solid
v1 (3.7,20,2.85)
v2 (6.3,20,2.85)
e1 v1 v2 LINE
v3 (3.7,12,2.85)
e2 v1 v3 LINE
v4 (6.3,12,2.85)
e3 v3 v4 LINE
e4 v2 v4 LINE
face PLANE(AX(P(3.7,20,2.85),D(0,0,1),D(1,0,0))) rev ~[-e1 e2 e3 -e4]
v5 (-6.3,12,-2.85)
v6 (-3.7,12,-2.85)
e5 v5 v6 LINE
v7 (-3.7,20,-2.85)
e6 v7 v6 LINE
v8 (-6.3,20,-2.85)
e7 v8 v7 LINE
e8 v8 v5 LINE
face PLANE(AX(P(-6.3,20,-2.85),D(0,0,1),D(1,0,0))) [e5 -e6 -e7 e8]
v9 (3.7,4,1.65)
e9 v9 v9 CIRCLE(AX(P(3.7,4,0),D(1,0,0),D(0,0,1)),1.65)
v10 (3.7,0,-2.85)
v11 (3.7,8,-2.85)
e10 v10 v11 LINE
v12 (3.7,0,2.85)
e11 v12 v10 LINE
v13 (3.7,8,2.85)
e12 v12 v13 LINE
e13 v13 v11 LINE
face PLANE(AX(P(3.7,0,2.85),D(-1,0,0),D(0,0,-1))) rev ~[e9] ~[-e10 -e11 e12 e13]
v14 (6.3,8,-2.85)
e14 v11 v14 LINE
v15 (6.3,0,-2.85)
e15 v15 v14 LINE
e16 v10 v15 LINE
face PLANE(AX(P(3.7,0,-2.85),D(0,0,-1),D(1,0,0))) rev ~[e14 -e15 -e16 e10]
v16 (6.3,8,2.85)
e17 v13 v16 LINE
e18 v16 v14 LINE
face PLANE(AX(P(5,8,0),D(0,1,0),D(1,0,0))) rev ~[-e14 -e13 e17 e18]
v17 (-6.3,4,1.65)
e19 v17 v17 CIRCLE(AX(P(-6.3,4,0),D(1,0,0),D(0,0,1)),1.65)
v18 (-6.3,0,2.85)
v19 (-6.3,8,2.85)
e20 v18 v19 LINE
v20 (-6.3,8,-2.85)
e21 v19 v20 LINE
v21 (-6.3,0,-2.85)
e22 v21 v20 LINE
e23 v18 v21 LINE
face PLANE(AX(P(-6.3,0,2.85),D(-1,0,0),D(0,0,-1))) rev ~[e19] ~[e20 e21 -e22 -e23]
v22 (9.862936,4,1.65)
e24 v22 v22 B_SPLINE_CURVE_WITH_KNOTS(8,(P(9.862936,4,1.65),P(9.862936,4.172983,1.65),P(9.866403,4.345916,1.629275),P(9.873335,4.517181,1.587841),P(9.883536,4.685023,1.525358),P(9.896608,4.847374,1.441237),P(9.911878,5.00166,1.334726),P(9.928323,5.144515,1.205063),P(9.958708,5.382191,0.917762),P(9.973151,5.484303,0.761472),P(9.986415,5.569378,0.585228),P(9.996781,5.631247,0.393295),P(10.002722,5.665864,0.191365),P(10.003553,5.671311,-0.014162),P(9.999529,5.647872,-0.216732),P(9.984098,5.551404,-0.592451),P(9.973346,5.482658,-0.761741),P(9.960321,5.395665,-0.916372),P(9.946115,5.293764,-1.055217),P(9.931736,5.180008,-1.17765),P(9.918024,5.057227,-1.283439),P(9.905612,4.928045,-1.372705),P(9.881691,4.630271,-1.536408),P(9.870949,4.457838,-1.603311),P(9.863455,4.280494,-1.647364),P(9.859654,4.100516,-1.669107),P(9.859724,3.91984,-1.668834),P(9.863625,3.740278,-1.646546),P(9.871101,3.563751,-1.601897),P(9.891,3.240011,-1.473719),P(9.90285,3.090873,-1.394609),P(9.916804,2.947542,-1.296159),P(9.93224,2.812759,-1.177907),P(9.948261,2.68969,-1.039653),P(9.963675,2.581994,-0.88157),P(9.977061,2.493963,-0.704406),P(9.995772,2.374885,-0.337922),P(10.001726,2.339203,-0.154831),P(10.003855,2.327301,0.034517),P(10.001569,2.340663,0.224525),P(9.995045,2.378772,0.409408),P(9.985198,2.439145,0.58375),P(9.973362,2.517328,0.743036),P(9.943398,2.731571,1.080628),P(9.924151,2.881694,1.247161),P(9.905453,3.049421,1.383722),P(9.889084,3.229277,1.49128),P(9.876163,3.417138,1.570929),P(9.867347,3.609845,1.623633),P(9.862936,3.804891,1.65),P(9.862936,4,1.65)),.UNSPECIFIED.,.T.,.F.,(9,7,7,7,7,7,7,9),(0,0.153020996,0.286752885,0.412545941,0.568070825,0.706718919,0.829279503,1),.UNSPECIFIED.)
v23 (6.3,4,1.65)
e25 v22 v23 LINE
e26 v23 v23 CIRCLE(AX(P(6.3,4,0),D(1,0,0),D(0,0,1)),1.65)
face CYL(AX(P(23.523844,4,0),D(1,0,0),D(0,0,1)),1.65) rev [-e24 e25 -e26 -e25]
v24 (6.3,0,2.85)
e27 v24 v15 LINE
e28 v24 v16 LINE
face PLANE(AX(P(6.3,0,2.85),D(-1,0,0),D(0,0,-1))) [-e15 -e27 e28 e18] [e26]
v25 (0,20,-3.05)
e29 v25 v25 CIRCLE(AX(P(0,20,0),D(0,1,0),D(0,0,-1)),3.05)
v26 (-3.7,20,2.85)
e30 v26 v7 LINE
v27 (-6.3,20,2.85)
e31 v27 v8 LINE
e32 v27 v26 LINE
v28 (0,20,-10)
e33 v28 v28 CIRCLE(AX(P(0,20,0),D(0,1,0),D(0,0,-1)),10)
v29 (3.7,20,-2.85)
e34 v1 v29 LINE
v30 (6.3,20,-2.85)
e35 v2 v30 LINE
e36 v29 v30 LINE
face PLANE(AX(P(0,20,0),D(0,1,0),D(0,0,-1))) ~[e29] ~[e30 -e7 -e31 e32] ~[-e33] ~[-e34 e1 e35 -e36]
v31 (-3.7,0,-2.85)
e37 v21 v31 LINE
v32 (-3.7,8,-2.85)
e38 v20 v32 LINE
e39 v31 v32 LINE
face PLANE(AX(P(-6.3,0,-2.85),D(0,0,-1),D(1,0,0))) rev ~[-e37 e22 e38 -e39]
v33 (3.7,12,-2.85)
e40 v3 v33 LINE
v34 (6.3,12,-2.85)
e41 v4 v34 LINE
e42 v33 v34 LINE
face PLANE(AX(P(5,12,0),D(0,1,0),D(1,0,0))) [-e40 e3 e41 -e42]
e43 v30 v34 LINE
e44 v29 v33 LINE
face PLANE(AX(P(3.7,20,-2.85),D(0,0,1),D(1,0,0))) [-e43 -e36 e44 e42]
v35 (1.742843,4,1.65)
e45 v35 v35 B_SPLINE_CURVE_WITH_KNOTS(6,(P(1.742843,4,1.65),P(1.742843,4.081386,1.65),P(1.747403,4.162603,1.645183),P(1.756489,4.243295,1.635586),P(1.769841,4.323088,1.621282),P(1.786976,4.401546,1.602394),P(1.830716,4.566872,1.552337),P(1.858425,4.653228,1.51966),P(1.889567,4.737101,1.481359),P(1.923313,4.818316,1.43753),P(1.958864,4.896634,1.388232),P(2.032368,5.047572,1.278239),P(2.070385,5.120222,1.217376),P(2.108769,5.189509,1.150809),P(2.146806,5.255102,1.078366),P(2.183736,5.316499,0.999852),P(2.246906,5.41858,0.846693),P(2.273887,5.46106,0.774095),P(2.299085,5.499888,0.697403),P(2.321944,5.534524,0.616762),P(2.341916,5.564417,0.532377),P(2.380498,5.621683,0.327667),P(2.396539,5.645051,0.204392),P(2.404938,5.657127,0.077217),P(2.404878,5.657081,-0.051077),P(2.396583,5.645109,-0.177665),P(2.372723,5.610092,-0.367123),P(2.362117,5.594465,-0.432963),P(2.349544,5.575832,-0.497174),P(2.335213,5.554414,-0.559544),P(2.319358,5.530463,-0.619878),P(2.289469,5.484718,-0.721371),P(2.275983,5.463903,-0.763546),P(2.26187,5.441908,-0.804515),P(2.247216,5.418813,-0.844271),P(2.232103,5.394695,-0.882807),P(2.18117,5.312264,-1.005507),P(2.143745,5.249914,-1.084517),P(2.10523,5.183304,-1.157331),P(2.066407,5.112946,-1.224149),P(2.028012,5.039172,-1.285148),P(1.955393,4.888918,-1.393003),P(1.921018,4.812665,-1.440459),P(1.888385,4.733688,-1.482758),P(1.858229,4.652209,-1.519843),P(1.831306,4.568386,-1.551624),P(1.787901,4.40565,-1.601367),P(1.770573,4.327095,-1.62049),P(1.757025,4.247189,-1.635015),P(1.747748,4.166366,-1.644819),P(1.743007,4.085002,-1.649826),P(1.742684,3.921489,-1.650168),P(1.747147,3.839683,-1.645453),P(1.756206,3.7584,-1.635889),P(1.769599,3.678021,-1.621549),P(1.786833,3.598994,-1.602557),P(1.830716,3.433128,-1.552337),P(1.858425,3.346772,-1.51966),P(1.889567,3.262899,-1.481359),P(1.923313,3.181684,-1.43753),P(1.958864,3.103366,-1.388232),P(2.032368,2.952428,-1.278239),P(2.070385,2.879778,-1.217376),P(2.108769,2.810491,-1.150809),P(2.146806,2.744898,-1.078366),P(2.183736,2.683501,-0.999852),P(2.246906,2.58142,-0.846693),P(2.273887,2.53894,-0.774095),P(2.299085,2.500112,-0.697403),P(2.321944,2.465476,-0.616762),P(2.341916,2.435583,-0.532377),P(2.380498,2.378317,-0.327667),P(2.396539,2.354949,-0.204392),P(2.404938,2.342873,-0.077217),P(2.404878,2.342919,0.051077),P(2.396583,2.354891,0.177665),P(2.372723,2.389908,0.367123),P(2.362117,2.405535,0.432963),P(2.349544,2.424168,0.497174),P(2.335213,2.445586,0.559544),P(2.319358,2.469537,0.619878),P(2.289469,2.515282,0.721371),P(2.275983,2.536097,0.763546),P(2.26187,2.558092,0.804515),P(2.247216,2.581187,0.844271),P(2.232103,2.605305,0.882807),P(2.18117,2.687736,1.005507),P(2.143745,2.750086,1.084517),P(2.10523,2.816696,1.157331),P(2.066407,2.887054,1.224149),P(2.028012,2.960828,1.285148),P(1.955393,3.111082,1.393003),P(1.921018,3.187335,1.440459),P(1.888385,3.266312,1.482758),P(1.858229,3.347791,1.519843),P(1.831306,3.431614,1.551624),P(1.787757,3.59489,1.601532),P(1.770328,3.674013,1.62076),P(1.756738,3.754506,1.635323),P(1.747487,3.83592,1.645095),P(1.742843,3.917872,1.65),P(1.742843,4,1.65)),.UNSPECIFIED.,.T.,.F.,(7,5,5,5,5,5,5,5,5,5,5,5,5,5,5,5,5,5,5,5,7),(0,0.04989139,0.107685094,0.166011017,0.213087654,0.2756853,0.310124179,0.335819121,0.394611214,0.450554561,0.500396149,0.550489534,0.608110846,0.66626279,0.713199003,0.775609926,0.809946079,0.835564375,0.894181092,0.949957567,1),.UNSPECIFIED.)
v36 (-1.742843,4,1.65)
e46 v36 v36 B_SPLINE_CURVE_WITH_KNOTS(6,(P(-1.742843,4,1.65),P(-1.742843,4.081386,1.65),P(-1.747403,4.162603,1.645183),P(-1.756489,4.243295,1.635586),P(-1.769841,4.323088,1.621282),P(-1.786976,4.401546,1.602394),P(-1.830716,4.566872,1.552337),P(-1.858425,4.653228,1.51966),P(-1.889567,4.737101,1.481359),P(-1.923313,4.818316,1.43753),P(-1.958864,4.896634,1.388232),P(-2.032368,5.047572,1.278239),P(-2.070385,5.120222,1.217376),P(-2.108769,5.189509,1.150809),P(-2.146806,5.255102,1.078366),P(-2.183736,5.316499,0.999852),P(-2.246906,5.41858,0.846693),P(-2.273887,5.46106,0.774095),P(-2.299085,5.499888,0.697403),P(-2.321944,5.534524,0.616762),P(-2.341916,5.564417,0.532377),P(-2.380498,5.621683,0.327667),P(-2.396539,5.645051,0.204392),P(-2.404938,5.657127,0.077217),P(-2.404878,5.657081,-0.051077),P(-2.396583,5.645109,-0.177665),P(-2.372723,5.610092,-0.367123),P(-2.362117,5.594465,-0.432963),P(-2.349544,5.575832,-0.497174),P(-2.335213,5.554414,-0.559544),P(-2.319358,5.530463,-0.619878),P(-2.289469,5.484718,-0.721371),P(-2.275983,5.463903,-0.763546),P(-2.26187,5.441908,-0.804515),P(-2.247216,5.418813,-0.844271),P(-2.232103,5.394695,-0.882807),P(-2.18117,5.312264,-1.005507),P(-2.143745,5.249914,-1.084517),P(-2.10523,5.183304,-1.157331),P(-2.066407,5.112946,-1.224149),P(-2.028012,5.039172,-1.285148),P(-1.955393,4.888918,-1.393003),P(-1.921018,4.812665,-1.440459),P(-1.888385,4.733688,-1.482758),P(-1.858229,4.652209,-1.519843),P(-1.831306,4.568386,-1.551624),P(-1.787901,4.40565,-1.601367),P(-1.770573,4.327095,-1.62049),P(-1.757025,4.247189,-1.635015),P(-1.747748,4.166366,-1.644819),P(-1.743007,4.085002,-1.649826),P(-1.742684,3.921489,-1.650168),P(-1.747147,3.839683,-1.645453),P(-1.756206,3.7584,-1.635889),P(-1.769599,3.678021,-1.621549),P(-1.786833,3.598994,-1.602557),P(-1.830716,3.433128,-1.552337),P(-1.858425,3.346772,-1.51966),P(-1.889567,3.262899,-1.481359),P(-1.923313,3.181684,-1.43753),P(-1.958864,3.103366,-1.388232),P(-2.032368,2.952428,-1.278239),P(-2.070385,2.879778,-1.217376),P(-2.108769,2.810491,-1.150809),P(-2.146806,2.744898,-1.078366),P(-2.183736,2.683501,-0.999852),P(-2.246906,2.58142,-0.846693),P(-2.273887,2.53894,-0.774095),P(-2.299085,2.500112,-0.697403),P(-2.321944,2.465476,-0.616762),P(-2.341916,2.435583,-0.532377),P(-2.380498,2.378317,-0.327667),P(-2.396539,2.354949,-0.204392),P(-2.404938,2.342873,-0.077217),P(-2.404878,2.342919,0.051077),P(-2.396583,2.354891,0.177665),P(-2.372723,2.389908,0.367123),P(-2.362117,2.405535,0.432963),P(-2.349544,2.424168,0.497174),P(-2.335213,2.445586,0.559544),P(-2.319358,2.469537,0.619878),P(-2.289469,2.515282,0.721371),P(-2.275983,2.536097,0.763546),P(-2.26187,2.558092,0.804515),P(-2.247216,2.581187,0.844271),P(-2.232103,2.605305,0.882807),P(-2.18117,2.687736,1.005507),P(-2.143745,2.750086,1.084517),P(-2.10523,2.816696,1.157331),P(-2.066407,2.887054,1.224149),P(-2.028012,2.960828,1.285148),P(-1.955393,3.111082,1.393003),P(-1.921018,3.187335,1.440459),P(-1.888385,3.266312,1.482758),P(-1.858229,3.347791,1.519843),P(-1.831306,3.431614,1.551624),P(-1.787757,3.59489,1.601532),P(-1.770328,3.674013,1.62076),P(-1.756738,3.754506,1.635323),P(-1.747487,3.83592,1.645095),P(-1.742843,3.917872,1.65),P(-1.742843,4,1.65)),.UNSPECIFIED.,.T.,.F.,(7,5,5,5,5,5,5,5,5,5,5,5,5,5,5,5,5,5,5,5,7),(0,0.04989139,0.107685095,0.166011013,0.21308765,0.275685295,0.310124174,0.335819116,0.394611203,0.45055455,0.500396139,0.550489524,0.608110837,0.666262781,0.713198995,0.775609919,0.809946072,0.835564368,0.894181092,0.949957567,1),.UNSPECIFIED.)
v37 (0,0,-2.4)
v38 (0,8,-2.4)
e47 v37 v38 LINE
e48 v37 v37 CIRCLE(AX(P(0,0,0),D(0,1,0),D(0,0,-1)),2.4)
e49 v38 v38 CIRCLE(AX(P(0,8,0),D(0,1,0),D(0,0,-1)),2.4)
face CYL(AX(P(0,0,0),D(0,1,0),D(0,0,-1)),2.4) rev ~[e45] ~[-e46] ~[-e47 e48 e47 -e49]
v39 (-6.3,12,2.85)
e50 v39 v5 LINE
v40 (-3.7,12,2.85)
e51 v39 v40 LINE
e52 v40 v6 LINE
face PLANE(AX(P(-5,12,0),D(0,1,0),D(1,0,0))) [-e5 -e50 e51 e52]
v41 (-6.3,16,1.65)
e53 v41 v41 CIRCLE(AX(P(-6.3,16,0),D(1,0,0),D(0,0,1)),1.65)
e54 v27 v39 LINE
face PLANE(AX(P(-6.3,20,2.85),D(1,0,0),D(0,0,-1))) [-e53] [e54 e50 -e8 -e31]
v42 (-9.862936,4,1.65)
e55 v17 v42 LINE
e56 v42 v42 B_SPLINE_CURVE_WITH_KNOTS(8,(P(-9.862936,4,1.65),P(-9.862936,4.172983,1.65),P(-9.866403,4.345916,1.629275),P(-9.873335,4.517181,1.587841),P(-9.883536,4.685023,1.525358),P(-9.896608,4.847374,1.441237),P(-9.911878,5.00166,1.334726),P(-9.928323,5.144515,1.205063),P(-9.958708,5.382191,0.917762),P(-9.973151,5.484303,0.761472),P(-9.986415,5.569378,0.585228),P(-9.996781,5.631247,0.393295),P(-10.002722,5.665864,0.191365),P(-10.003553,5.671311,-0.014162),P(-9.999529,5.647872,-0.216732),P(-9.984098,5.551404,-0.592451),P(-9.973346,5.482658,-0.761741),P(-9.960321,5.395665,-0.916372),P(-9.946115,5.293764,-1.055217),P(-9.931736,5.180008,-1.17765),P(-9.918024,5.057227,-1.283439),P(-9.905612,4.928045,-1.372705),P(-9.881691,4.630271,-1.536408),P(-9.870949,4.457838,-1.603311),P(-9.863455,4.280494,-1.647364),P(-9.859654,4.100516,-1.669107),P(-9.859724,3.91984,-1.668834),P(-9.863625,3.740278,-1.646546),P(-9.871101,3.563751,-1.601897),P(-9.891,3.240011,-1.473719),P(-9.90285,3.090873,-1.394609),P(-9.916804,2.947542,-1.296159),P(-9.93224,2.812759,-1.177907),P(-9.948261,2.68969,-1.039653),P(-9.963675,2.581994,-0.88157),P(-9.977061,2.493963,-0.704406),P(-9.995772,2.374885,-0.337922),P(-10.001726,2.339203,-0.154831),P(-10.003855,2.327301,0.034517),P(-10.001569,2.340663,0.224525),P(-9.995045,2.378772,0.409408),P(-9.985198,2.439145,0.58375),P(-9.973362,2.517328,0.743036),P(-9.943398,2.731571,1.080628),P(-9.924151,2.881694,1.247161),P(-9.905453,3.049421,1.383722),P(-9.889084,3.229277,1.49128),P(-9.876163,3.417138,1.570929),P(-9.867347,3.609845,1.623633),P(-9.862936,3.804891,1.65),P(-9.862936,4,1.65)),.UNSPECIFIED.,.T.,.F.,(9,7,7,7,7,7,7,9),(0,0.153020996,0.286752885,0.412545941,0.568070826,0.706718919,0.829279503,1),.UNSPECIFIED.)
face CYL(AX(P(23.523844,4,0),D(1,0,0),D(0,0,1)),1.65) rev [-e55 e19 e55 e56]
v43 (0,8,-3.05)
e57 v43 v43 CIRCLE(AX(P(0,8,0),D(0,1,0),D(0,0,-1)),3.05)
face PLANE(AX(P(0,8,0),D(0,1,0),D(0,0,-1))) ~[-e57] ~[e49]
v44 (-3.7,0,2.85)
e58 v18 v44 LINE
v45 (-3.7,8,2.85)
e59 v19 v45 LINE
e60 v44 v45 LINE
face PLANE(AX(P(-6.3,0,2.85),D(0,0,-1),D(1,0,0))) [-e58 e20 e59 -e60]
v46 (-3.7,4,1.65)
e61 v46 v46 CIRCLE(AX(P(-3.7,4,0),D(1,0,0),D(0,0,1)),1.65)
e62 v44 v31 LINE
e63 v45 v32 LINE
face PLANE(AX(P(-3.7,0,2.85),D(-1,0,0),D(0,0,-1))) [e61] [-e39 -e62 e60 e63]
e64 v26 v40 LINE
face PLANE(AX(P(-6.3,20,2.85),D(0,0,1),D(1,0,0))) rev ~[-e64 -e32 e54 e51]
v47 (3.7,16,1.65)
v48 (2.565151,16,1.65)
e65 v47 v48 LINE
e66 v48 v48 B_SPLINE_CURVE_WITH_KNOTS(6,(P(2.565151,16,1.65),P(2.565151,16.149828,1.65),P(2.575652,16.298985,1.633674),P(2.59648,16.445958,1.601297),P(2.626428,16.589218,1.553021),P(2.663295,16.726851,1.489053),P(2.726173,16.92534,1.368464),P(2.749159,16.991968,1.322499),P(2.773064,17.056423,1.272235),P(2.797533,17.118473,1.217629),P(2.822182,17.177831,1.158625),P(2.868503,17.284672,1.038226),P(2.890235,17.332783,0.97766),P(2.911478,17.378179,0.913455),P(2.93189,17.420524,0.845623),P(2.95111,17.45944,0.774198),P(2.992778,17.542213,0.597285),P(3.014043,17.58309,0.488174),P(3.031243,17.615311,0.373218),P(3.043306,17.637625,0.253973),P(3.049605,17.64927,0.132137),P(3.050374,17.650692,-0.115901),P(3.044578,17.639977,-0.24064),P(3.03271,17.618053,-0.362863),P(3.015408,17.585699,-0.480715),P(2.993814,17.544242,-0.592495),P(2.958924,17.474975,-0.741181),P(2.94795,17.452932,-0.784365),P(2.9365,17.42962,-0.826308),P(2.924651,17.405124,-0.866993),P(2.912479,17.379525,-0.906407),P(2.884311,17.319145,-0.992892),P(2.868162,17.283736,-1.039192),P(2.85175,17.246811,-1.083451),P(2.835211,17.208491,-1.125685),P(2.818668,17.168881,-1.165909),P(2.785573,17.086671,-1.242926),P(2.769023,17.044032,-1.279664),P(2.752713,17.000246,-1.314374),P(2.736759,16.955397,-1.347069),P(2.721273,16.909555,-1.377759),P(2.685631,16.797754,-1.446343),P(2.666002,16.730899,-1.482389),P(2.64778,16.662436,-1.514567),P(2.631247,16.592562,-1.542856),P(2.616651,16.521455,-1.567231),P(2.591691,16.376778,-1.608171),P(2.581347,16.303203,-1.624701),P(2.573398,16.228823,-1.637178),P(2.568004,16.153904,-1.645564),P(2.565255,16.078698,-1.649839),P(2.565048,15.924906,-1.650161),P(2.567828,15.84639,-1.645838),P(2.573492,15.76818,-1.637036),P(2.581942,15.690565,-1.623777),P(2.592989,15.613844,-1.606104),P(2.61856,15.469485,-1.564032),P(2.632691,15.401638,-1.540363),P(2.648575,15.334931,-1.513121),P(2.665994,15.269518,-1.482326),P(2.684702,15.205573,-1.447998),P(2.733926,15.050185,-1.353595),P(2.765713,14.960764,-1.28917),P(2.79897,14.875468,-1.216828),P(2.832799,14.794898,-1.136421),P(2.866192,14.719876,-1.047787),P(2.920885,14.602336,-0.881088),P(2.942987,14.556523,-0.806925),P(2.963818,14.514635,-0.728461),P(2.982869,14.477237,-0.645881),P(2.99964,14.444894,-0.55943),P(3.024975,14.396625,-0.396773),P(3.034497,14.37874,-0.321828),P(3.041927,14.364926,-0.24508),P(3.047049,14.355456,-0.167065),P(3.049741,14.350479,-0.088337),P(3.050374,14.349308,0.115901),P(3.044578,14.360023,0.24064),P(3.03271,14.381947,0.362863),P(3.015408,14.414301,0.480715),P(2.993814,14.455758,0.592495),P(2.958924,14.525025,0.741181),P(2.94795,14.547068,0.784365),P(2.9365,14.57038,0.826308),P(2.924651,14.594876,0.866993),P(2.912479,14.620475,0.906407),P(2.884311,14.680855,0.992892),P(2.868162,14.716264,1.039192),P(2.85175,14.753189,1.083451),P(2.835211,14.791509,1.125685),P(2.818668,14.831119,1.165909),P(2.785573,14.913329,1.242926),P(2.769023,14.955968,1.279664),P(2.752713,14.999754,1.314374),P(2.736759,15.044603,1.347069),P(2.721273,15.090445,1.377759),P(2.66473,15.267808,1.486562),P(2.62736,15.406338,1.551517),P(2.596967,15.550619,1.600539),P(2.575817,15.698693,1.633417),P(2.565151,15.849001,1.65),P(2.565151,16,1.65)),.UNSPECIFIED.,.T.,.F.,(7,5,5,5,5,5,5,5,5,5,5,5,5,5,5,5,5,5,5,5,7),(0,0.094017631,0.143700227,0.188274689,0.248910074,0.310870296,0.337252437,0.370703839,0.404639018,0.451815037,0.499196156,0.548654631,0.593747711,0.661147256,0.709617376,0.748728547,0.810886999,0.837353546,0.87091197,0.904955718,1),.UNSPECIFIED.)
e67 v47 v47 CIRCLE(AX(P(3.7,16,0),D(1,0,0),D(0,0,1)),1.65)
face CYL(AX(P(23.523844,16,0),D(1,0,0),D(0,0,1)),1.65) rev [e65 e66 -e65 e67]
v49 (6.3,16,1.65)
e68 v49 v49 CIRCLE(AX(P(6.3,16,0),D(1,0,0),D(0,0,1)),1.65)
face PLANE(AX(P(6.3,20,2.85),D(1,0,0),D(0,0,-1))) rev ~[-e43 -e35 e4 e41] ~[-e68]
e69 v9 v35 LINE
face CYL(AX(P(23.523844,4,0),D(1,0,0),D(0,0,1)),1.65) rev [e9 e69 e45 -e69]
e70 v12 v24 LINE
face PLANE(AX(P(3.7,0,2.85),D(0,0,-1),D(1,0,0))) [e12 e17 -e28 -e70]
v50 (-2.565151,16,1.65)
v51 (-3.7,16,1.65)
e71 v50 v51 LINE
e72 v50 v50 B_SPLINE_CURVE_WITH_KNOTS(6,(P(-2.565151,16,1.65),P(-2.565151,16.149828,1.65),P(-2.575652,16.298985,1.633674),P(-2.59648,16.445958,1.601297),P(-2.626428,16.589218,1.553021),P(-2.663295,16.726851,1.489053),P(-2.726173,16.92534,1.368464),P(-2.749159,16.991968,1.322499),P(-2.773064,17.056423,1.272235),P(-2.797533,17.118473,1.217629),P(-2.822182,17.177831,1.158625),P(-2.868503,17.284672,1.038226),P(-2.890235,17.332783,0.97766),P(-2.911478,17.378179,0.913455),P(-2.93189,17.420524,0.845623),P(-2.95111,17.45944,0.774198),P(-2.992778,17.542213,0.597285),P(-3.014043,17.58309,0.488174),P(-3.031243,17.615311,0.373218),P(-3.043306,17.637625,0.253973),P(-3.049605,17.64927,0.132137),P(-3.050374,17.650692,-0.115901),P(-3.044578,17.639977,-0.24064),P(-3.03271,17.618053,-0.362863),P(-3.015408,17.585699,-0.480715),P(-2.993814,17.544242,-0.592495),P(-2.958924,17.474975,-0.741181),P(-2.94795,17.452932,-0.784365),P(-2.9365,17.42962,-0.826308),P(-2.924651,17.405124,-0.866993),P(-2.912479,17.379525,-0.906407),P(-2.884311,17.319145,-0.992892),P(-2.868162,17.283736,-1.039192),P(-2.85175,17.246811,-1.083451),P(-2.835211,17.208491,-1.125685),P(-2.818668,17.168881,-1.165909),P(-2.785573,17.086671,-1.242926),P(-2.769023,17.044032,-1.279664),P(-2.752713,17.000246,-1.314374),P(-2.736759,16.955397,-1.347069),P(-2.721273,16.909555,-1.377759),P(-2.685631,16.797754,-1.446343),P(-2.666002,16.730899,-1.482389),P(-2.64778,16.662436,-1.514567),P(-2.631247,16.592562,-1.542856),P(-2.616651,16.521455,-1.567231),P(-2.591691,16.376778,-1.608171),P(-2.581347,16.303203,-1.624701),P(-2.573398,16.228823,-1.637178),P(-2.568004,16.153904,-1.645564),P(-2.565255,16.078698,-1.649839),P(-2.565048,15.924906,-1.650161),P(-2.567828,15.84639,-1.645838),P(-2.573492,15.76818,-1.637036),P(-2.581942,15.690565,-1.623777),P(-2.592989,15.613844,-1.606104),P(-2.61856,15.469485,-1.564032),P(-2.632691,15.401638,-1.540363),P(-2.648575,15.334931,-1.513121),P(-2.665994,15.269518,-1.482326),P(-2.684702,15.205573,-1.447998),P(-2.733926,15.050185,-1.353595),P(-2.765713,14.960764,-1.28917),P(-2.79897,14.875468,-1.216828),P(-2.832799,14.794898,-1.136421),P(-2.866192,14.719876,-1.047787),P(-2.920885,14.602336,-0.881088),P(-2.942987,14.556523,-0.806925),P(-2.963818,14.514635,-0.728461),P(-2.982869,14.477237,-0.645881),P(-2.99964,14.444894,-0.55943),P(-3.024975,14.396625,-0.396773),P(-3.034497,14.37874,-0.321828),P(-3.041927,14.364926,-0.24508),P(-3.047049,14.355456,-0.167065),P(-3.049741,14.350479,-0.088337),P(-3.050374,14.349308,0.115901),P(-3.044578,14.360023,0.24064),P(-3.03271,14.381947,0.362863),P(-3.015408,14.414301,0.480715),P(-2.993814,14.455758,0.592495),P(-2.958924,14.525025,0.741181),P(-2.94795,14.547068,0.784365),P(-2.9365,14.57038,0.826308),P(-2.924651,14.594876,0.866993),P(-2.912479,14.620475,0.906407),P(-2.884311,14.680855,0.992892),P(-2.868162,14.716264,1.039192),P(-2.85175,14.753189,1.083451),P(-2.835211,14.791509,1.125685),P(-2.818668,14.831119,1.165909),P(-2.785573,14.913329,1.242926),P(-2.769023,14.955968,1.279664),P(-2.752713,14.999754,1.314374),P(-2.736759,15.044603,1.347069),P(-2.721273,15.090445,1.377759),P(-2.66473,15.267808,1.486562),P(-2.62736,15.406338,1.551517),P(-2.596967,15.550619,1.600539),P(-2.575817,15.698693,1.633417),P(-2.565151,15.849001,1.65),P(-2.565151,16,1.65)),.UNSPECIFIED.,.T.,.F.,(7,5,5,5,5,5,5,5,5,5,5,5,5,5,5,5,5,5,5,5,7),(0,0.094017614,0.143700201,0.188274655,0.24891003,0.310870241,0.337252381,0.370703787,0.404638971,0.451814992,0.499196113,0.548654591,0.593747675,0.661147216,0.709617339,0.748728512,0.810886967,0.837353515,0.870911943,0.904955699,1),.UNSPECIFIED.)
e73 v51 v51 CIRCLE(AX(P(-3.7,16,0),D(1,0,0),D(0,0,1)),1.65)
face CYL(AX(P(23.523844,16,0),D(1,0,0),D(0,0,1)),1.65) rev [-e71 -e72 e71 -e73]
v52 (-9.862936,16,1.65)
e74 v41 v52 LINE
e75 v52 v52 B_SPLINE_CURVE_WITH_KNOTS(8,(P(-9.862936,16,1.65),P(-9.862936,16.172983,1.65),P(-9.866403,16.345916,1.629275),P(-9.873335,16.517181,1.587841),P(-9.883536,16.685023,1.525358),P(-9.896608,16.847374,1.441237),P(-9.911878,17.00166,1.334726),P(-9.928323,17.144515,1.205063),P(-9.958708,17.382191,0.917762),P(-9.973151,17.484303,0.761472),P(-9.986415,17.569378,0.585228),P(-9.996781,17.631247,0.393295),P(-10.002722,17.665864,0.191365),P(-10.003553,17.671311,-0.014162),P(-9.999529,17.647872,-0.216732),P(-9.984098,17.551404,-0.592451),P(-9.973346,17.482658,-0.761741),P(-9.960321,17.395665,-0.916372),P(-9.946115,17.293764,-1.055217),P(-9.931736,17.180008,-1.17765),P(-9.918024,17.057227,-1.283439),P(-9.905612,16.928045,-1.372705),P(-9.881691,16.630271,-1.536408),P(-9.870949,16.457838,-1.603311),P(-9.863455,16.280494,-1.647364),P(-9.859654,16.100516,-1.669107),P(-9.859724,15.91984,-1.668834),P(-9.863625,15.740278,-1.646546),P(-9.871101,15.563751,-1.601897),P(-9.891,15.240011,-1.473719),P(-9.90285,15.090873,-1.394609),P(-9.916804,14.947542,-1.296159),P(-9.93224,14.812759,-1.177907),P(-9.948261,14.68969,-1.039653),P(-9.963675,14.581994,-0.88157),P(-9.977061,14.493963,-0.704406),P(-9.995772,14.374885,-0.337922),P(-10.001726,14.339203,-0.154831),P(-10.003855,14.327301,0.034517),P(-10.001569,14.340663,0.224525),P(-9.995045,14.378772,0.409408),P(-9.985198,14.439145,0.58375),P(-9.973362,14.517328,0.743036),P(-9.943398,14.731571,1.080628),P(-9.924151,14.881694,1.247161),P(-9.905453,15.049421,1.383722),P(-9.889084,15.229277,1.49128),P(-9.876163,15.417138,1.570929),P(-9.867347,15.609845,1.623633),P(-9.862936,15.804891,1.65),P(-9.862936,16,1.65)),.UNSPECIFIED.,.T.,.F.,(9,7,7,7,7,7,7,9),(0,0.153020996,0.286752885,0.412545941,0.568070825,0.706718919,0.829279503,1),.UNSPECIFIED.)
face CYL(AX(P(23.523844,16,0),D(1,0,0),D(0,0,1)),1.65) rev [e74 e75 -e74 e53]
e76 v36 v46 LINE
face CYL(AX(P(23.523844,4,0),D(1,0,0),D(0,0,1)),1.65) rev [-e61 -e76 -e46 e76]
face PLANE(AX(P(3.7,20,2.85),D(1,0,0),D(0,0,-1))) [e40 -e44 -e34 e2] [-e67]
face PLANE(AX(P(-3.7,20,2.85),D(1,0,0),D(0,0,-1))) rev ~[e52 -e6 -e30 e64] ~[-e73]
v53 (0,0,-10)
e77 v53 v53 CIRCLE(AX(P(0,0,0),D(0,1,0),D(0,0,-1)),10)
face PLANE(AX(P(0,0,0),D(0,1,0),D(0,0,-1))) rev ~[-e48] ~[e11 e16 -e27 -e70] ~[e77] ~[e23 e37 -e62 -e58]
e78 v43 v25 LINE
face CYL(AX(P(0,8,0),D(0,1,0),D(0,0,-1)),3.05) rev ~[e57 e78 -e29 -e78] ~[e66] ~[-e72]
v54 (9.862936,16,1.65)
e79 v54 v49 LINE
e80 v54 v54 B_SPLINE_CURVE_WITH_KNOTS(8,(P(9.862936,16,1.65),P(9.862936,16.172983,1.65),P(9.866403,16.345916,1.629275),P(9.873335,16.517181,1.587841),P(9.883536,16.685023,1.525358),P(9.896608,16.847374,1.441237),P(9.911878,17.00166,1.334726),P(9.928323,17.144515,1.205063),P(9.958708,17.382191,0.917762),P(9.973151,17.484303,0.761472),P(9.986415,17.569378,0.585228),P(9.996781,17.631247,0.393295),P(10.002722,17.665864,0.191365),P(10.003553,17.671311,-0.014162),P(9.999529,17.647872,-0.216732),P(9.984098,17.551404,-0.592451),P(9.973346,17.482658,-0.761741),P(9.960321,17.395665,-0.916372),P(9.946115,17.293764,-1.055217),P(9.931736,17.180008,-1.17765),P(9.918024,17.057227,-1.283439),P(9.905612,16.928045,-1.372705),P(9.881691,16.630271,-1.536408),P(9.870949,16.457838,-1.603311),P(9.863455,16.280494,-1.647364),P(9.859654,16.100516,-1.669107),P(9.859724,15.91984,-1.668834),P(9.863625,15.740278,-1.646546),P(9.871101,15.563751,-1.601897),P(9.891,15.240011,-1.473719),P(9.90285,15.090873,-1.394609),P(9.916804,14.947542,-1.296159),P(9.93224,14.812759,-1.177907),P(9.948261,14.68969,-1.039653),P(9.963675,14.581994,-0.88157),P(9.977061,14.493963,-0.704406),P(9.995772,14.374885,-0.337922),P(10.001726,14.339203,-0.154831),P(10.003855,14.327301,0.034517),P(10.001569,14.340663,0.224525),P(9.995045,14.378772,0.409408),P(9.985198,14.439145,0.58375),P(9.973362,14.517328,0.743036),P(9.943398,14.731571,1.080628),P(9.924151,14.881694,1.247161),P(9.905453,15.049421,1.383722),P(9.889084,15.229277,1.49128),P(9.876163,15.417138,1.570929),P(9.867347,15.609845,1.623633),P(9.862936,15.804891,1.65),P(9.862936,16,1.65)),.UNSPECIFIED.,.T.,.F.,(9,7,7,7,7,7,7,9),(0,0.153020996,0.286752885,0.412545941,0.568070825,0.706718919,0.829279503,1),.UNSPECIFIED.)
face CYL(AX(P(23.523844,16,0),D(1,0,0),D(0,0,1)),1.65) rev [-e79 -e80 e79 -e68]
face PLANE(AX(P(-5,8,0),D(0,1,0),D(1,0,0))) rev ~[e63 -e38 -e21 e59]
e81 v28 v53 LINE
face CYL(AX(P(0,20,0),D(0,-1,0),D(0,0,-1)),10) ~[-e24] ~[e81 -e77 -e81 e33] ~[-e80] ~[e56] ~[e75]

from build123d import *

# Parameters (mm, degrees)
ESBO_O2_W                  = 2.6
ESBO_O2_H                  = 5.7
CORTE_EXTRUS_O1_DEPTH      = 8
CORTE_EXTRUS_O2_START      = -20
ESBO_O2_2_W                = 2.6
ESBO_O2_2_H                = 5.7
CORTE_EXTRUS_O2_DEPTH      = 8
CORTE_EXTRUS_O3_DEPTH      = 27.223844112
CORTE_EXTRUS_O3_DEPTH_BACK = 27.223844112
ESBO_O3_R                  = 1.65


with BuildPart() as part:
    # Esboço1 → Revolução1 (revolve)
    with BuildSketch(Plane.XY, mode=Mode.PRIVATE) as revolu_o1_sk:
        Polygon((3.05, 20), (10, 20), (10, 0), (2.4, 0), (2.4, 8), (3.05, 8), align=None)
    revolve(revolu_o1_sk.sketch.rotate(Axis((0, 0, 0), (0, 1, 0)), 90), axis=Axis((0, 0, 0), (0, 1, 0)))

    # Esboço2 → Corte-extrusão1 (cut)
    with BuildSketch(Plane(origin=(0, 20, 0), x_dir=(1, 0, 0), z_dir=(0, 1, 0))):
        with Locations((5, 0)):
            Rectangle(ESBO_O2_W, ESBO_O2_H)
        with Locations((-5, 0)):
            Rectangle(ESBO_O2_W, ESBO_O2_H)
    extrude(amount=-CORTE_EXTRUS_O1_DEPTH, mode=Mode.SUBTRACT)

    # Esboço2<2> → Corte-extrusão2 (cut)
    with BuildSketch(Plane(origin=(0, 20, 0), x_dir=(1, 0, 0), z_dir=(0, 1, 0)).offset(CORTE_EXTRUS_O2_START)):
        with Locations((5, 0)):
            Rectangle(ESBO_O2_2_W, ESBO_O2_2_H)
        with Locations((-5, 0)):
            Rectangle(ESBO_O2_2_W, ESBO_O2_2_H)
    extrude(amount=CORTE_EXTRUS_O2_DEPTH, mode=Mode.SUBTRACT)

    # Esboço3 → Corte-extrusão3 (cut, two sides: drawn at the far end of the back side and taken through both)
    with BuildSketch(Plane.ZY.offset(3.7).offset(-CORTE_EXTRUS_O3_DEPTH_BACK)):
        with Locations((0, 4)):
            Circle(ESBO_O3_R)
        with Locations((0, 16)):
            Circle(ESBO_O3_R)
    extrude(amount=CORTE_EXTRUS_O3_DEPTH + CORTE_EXTRUS_O3_DEPTH_BACK, mode=Mode.SUBTRACT)


solid = part.part
